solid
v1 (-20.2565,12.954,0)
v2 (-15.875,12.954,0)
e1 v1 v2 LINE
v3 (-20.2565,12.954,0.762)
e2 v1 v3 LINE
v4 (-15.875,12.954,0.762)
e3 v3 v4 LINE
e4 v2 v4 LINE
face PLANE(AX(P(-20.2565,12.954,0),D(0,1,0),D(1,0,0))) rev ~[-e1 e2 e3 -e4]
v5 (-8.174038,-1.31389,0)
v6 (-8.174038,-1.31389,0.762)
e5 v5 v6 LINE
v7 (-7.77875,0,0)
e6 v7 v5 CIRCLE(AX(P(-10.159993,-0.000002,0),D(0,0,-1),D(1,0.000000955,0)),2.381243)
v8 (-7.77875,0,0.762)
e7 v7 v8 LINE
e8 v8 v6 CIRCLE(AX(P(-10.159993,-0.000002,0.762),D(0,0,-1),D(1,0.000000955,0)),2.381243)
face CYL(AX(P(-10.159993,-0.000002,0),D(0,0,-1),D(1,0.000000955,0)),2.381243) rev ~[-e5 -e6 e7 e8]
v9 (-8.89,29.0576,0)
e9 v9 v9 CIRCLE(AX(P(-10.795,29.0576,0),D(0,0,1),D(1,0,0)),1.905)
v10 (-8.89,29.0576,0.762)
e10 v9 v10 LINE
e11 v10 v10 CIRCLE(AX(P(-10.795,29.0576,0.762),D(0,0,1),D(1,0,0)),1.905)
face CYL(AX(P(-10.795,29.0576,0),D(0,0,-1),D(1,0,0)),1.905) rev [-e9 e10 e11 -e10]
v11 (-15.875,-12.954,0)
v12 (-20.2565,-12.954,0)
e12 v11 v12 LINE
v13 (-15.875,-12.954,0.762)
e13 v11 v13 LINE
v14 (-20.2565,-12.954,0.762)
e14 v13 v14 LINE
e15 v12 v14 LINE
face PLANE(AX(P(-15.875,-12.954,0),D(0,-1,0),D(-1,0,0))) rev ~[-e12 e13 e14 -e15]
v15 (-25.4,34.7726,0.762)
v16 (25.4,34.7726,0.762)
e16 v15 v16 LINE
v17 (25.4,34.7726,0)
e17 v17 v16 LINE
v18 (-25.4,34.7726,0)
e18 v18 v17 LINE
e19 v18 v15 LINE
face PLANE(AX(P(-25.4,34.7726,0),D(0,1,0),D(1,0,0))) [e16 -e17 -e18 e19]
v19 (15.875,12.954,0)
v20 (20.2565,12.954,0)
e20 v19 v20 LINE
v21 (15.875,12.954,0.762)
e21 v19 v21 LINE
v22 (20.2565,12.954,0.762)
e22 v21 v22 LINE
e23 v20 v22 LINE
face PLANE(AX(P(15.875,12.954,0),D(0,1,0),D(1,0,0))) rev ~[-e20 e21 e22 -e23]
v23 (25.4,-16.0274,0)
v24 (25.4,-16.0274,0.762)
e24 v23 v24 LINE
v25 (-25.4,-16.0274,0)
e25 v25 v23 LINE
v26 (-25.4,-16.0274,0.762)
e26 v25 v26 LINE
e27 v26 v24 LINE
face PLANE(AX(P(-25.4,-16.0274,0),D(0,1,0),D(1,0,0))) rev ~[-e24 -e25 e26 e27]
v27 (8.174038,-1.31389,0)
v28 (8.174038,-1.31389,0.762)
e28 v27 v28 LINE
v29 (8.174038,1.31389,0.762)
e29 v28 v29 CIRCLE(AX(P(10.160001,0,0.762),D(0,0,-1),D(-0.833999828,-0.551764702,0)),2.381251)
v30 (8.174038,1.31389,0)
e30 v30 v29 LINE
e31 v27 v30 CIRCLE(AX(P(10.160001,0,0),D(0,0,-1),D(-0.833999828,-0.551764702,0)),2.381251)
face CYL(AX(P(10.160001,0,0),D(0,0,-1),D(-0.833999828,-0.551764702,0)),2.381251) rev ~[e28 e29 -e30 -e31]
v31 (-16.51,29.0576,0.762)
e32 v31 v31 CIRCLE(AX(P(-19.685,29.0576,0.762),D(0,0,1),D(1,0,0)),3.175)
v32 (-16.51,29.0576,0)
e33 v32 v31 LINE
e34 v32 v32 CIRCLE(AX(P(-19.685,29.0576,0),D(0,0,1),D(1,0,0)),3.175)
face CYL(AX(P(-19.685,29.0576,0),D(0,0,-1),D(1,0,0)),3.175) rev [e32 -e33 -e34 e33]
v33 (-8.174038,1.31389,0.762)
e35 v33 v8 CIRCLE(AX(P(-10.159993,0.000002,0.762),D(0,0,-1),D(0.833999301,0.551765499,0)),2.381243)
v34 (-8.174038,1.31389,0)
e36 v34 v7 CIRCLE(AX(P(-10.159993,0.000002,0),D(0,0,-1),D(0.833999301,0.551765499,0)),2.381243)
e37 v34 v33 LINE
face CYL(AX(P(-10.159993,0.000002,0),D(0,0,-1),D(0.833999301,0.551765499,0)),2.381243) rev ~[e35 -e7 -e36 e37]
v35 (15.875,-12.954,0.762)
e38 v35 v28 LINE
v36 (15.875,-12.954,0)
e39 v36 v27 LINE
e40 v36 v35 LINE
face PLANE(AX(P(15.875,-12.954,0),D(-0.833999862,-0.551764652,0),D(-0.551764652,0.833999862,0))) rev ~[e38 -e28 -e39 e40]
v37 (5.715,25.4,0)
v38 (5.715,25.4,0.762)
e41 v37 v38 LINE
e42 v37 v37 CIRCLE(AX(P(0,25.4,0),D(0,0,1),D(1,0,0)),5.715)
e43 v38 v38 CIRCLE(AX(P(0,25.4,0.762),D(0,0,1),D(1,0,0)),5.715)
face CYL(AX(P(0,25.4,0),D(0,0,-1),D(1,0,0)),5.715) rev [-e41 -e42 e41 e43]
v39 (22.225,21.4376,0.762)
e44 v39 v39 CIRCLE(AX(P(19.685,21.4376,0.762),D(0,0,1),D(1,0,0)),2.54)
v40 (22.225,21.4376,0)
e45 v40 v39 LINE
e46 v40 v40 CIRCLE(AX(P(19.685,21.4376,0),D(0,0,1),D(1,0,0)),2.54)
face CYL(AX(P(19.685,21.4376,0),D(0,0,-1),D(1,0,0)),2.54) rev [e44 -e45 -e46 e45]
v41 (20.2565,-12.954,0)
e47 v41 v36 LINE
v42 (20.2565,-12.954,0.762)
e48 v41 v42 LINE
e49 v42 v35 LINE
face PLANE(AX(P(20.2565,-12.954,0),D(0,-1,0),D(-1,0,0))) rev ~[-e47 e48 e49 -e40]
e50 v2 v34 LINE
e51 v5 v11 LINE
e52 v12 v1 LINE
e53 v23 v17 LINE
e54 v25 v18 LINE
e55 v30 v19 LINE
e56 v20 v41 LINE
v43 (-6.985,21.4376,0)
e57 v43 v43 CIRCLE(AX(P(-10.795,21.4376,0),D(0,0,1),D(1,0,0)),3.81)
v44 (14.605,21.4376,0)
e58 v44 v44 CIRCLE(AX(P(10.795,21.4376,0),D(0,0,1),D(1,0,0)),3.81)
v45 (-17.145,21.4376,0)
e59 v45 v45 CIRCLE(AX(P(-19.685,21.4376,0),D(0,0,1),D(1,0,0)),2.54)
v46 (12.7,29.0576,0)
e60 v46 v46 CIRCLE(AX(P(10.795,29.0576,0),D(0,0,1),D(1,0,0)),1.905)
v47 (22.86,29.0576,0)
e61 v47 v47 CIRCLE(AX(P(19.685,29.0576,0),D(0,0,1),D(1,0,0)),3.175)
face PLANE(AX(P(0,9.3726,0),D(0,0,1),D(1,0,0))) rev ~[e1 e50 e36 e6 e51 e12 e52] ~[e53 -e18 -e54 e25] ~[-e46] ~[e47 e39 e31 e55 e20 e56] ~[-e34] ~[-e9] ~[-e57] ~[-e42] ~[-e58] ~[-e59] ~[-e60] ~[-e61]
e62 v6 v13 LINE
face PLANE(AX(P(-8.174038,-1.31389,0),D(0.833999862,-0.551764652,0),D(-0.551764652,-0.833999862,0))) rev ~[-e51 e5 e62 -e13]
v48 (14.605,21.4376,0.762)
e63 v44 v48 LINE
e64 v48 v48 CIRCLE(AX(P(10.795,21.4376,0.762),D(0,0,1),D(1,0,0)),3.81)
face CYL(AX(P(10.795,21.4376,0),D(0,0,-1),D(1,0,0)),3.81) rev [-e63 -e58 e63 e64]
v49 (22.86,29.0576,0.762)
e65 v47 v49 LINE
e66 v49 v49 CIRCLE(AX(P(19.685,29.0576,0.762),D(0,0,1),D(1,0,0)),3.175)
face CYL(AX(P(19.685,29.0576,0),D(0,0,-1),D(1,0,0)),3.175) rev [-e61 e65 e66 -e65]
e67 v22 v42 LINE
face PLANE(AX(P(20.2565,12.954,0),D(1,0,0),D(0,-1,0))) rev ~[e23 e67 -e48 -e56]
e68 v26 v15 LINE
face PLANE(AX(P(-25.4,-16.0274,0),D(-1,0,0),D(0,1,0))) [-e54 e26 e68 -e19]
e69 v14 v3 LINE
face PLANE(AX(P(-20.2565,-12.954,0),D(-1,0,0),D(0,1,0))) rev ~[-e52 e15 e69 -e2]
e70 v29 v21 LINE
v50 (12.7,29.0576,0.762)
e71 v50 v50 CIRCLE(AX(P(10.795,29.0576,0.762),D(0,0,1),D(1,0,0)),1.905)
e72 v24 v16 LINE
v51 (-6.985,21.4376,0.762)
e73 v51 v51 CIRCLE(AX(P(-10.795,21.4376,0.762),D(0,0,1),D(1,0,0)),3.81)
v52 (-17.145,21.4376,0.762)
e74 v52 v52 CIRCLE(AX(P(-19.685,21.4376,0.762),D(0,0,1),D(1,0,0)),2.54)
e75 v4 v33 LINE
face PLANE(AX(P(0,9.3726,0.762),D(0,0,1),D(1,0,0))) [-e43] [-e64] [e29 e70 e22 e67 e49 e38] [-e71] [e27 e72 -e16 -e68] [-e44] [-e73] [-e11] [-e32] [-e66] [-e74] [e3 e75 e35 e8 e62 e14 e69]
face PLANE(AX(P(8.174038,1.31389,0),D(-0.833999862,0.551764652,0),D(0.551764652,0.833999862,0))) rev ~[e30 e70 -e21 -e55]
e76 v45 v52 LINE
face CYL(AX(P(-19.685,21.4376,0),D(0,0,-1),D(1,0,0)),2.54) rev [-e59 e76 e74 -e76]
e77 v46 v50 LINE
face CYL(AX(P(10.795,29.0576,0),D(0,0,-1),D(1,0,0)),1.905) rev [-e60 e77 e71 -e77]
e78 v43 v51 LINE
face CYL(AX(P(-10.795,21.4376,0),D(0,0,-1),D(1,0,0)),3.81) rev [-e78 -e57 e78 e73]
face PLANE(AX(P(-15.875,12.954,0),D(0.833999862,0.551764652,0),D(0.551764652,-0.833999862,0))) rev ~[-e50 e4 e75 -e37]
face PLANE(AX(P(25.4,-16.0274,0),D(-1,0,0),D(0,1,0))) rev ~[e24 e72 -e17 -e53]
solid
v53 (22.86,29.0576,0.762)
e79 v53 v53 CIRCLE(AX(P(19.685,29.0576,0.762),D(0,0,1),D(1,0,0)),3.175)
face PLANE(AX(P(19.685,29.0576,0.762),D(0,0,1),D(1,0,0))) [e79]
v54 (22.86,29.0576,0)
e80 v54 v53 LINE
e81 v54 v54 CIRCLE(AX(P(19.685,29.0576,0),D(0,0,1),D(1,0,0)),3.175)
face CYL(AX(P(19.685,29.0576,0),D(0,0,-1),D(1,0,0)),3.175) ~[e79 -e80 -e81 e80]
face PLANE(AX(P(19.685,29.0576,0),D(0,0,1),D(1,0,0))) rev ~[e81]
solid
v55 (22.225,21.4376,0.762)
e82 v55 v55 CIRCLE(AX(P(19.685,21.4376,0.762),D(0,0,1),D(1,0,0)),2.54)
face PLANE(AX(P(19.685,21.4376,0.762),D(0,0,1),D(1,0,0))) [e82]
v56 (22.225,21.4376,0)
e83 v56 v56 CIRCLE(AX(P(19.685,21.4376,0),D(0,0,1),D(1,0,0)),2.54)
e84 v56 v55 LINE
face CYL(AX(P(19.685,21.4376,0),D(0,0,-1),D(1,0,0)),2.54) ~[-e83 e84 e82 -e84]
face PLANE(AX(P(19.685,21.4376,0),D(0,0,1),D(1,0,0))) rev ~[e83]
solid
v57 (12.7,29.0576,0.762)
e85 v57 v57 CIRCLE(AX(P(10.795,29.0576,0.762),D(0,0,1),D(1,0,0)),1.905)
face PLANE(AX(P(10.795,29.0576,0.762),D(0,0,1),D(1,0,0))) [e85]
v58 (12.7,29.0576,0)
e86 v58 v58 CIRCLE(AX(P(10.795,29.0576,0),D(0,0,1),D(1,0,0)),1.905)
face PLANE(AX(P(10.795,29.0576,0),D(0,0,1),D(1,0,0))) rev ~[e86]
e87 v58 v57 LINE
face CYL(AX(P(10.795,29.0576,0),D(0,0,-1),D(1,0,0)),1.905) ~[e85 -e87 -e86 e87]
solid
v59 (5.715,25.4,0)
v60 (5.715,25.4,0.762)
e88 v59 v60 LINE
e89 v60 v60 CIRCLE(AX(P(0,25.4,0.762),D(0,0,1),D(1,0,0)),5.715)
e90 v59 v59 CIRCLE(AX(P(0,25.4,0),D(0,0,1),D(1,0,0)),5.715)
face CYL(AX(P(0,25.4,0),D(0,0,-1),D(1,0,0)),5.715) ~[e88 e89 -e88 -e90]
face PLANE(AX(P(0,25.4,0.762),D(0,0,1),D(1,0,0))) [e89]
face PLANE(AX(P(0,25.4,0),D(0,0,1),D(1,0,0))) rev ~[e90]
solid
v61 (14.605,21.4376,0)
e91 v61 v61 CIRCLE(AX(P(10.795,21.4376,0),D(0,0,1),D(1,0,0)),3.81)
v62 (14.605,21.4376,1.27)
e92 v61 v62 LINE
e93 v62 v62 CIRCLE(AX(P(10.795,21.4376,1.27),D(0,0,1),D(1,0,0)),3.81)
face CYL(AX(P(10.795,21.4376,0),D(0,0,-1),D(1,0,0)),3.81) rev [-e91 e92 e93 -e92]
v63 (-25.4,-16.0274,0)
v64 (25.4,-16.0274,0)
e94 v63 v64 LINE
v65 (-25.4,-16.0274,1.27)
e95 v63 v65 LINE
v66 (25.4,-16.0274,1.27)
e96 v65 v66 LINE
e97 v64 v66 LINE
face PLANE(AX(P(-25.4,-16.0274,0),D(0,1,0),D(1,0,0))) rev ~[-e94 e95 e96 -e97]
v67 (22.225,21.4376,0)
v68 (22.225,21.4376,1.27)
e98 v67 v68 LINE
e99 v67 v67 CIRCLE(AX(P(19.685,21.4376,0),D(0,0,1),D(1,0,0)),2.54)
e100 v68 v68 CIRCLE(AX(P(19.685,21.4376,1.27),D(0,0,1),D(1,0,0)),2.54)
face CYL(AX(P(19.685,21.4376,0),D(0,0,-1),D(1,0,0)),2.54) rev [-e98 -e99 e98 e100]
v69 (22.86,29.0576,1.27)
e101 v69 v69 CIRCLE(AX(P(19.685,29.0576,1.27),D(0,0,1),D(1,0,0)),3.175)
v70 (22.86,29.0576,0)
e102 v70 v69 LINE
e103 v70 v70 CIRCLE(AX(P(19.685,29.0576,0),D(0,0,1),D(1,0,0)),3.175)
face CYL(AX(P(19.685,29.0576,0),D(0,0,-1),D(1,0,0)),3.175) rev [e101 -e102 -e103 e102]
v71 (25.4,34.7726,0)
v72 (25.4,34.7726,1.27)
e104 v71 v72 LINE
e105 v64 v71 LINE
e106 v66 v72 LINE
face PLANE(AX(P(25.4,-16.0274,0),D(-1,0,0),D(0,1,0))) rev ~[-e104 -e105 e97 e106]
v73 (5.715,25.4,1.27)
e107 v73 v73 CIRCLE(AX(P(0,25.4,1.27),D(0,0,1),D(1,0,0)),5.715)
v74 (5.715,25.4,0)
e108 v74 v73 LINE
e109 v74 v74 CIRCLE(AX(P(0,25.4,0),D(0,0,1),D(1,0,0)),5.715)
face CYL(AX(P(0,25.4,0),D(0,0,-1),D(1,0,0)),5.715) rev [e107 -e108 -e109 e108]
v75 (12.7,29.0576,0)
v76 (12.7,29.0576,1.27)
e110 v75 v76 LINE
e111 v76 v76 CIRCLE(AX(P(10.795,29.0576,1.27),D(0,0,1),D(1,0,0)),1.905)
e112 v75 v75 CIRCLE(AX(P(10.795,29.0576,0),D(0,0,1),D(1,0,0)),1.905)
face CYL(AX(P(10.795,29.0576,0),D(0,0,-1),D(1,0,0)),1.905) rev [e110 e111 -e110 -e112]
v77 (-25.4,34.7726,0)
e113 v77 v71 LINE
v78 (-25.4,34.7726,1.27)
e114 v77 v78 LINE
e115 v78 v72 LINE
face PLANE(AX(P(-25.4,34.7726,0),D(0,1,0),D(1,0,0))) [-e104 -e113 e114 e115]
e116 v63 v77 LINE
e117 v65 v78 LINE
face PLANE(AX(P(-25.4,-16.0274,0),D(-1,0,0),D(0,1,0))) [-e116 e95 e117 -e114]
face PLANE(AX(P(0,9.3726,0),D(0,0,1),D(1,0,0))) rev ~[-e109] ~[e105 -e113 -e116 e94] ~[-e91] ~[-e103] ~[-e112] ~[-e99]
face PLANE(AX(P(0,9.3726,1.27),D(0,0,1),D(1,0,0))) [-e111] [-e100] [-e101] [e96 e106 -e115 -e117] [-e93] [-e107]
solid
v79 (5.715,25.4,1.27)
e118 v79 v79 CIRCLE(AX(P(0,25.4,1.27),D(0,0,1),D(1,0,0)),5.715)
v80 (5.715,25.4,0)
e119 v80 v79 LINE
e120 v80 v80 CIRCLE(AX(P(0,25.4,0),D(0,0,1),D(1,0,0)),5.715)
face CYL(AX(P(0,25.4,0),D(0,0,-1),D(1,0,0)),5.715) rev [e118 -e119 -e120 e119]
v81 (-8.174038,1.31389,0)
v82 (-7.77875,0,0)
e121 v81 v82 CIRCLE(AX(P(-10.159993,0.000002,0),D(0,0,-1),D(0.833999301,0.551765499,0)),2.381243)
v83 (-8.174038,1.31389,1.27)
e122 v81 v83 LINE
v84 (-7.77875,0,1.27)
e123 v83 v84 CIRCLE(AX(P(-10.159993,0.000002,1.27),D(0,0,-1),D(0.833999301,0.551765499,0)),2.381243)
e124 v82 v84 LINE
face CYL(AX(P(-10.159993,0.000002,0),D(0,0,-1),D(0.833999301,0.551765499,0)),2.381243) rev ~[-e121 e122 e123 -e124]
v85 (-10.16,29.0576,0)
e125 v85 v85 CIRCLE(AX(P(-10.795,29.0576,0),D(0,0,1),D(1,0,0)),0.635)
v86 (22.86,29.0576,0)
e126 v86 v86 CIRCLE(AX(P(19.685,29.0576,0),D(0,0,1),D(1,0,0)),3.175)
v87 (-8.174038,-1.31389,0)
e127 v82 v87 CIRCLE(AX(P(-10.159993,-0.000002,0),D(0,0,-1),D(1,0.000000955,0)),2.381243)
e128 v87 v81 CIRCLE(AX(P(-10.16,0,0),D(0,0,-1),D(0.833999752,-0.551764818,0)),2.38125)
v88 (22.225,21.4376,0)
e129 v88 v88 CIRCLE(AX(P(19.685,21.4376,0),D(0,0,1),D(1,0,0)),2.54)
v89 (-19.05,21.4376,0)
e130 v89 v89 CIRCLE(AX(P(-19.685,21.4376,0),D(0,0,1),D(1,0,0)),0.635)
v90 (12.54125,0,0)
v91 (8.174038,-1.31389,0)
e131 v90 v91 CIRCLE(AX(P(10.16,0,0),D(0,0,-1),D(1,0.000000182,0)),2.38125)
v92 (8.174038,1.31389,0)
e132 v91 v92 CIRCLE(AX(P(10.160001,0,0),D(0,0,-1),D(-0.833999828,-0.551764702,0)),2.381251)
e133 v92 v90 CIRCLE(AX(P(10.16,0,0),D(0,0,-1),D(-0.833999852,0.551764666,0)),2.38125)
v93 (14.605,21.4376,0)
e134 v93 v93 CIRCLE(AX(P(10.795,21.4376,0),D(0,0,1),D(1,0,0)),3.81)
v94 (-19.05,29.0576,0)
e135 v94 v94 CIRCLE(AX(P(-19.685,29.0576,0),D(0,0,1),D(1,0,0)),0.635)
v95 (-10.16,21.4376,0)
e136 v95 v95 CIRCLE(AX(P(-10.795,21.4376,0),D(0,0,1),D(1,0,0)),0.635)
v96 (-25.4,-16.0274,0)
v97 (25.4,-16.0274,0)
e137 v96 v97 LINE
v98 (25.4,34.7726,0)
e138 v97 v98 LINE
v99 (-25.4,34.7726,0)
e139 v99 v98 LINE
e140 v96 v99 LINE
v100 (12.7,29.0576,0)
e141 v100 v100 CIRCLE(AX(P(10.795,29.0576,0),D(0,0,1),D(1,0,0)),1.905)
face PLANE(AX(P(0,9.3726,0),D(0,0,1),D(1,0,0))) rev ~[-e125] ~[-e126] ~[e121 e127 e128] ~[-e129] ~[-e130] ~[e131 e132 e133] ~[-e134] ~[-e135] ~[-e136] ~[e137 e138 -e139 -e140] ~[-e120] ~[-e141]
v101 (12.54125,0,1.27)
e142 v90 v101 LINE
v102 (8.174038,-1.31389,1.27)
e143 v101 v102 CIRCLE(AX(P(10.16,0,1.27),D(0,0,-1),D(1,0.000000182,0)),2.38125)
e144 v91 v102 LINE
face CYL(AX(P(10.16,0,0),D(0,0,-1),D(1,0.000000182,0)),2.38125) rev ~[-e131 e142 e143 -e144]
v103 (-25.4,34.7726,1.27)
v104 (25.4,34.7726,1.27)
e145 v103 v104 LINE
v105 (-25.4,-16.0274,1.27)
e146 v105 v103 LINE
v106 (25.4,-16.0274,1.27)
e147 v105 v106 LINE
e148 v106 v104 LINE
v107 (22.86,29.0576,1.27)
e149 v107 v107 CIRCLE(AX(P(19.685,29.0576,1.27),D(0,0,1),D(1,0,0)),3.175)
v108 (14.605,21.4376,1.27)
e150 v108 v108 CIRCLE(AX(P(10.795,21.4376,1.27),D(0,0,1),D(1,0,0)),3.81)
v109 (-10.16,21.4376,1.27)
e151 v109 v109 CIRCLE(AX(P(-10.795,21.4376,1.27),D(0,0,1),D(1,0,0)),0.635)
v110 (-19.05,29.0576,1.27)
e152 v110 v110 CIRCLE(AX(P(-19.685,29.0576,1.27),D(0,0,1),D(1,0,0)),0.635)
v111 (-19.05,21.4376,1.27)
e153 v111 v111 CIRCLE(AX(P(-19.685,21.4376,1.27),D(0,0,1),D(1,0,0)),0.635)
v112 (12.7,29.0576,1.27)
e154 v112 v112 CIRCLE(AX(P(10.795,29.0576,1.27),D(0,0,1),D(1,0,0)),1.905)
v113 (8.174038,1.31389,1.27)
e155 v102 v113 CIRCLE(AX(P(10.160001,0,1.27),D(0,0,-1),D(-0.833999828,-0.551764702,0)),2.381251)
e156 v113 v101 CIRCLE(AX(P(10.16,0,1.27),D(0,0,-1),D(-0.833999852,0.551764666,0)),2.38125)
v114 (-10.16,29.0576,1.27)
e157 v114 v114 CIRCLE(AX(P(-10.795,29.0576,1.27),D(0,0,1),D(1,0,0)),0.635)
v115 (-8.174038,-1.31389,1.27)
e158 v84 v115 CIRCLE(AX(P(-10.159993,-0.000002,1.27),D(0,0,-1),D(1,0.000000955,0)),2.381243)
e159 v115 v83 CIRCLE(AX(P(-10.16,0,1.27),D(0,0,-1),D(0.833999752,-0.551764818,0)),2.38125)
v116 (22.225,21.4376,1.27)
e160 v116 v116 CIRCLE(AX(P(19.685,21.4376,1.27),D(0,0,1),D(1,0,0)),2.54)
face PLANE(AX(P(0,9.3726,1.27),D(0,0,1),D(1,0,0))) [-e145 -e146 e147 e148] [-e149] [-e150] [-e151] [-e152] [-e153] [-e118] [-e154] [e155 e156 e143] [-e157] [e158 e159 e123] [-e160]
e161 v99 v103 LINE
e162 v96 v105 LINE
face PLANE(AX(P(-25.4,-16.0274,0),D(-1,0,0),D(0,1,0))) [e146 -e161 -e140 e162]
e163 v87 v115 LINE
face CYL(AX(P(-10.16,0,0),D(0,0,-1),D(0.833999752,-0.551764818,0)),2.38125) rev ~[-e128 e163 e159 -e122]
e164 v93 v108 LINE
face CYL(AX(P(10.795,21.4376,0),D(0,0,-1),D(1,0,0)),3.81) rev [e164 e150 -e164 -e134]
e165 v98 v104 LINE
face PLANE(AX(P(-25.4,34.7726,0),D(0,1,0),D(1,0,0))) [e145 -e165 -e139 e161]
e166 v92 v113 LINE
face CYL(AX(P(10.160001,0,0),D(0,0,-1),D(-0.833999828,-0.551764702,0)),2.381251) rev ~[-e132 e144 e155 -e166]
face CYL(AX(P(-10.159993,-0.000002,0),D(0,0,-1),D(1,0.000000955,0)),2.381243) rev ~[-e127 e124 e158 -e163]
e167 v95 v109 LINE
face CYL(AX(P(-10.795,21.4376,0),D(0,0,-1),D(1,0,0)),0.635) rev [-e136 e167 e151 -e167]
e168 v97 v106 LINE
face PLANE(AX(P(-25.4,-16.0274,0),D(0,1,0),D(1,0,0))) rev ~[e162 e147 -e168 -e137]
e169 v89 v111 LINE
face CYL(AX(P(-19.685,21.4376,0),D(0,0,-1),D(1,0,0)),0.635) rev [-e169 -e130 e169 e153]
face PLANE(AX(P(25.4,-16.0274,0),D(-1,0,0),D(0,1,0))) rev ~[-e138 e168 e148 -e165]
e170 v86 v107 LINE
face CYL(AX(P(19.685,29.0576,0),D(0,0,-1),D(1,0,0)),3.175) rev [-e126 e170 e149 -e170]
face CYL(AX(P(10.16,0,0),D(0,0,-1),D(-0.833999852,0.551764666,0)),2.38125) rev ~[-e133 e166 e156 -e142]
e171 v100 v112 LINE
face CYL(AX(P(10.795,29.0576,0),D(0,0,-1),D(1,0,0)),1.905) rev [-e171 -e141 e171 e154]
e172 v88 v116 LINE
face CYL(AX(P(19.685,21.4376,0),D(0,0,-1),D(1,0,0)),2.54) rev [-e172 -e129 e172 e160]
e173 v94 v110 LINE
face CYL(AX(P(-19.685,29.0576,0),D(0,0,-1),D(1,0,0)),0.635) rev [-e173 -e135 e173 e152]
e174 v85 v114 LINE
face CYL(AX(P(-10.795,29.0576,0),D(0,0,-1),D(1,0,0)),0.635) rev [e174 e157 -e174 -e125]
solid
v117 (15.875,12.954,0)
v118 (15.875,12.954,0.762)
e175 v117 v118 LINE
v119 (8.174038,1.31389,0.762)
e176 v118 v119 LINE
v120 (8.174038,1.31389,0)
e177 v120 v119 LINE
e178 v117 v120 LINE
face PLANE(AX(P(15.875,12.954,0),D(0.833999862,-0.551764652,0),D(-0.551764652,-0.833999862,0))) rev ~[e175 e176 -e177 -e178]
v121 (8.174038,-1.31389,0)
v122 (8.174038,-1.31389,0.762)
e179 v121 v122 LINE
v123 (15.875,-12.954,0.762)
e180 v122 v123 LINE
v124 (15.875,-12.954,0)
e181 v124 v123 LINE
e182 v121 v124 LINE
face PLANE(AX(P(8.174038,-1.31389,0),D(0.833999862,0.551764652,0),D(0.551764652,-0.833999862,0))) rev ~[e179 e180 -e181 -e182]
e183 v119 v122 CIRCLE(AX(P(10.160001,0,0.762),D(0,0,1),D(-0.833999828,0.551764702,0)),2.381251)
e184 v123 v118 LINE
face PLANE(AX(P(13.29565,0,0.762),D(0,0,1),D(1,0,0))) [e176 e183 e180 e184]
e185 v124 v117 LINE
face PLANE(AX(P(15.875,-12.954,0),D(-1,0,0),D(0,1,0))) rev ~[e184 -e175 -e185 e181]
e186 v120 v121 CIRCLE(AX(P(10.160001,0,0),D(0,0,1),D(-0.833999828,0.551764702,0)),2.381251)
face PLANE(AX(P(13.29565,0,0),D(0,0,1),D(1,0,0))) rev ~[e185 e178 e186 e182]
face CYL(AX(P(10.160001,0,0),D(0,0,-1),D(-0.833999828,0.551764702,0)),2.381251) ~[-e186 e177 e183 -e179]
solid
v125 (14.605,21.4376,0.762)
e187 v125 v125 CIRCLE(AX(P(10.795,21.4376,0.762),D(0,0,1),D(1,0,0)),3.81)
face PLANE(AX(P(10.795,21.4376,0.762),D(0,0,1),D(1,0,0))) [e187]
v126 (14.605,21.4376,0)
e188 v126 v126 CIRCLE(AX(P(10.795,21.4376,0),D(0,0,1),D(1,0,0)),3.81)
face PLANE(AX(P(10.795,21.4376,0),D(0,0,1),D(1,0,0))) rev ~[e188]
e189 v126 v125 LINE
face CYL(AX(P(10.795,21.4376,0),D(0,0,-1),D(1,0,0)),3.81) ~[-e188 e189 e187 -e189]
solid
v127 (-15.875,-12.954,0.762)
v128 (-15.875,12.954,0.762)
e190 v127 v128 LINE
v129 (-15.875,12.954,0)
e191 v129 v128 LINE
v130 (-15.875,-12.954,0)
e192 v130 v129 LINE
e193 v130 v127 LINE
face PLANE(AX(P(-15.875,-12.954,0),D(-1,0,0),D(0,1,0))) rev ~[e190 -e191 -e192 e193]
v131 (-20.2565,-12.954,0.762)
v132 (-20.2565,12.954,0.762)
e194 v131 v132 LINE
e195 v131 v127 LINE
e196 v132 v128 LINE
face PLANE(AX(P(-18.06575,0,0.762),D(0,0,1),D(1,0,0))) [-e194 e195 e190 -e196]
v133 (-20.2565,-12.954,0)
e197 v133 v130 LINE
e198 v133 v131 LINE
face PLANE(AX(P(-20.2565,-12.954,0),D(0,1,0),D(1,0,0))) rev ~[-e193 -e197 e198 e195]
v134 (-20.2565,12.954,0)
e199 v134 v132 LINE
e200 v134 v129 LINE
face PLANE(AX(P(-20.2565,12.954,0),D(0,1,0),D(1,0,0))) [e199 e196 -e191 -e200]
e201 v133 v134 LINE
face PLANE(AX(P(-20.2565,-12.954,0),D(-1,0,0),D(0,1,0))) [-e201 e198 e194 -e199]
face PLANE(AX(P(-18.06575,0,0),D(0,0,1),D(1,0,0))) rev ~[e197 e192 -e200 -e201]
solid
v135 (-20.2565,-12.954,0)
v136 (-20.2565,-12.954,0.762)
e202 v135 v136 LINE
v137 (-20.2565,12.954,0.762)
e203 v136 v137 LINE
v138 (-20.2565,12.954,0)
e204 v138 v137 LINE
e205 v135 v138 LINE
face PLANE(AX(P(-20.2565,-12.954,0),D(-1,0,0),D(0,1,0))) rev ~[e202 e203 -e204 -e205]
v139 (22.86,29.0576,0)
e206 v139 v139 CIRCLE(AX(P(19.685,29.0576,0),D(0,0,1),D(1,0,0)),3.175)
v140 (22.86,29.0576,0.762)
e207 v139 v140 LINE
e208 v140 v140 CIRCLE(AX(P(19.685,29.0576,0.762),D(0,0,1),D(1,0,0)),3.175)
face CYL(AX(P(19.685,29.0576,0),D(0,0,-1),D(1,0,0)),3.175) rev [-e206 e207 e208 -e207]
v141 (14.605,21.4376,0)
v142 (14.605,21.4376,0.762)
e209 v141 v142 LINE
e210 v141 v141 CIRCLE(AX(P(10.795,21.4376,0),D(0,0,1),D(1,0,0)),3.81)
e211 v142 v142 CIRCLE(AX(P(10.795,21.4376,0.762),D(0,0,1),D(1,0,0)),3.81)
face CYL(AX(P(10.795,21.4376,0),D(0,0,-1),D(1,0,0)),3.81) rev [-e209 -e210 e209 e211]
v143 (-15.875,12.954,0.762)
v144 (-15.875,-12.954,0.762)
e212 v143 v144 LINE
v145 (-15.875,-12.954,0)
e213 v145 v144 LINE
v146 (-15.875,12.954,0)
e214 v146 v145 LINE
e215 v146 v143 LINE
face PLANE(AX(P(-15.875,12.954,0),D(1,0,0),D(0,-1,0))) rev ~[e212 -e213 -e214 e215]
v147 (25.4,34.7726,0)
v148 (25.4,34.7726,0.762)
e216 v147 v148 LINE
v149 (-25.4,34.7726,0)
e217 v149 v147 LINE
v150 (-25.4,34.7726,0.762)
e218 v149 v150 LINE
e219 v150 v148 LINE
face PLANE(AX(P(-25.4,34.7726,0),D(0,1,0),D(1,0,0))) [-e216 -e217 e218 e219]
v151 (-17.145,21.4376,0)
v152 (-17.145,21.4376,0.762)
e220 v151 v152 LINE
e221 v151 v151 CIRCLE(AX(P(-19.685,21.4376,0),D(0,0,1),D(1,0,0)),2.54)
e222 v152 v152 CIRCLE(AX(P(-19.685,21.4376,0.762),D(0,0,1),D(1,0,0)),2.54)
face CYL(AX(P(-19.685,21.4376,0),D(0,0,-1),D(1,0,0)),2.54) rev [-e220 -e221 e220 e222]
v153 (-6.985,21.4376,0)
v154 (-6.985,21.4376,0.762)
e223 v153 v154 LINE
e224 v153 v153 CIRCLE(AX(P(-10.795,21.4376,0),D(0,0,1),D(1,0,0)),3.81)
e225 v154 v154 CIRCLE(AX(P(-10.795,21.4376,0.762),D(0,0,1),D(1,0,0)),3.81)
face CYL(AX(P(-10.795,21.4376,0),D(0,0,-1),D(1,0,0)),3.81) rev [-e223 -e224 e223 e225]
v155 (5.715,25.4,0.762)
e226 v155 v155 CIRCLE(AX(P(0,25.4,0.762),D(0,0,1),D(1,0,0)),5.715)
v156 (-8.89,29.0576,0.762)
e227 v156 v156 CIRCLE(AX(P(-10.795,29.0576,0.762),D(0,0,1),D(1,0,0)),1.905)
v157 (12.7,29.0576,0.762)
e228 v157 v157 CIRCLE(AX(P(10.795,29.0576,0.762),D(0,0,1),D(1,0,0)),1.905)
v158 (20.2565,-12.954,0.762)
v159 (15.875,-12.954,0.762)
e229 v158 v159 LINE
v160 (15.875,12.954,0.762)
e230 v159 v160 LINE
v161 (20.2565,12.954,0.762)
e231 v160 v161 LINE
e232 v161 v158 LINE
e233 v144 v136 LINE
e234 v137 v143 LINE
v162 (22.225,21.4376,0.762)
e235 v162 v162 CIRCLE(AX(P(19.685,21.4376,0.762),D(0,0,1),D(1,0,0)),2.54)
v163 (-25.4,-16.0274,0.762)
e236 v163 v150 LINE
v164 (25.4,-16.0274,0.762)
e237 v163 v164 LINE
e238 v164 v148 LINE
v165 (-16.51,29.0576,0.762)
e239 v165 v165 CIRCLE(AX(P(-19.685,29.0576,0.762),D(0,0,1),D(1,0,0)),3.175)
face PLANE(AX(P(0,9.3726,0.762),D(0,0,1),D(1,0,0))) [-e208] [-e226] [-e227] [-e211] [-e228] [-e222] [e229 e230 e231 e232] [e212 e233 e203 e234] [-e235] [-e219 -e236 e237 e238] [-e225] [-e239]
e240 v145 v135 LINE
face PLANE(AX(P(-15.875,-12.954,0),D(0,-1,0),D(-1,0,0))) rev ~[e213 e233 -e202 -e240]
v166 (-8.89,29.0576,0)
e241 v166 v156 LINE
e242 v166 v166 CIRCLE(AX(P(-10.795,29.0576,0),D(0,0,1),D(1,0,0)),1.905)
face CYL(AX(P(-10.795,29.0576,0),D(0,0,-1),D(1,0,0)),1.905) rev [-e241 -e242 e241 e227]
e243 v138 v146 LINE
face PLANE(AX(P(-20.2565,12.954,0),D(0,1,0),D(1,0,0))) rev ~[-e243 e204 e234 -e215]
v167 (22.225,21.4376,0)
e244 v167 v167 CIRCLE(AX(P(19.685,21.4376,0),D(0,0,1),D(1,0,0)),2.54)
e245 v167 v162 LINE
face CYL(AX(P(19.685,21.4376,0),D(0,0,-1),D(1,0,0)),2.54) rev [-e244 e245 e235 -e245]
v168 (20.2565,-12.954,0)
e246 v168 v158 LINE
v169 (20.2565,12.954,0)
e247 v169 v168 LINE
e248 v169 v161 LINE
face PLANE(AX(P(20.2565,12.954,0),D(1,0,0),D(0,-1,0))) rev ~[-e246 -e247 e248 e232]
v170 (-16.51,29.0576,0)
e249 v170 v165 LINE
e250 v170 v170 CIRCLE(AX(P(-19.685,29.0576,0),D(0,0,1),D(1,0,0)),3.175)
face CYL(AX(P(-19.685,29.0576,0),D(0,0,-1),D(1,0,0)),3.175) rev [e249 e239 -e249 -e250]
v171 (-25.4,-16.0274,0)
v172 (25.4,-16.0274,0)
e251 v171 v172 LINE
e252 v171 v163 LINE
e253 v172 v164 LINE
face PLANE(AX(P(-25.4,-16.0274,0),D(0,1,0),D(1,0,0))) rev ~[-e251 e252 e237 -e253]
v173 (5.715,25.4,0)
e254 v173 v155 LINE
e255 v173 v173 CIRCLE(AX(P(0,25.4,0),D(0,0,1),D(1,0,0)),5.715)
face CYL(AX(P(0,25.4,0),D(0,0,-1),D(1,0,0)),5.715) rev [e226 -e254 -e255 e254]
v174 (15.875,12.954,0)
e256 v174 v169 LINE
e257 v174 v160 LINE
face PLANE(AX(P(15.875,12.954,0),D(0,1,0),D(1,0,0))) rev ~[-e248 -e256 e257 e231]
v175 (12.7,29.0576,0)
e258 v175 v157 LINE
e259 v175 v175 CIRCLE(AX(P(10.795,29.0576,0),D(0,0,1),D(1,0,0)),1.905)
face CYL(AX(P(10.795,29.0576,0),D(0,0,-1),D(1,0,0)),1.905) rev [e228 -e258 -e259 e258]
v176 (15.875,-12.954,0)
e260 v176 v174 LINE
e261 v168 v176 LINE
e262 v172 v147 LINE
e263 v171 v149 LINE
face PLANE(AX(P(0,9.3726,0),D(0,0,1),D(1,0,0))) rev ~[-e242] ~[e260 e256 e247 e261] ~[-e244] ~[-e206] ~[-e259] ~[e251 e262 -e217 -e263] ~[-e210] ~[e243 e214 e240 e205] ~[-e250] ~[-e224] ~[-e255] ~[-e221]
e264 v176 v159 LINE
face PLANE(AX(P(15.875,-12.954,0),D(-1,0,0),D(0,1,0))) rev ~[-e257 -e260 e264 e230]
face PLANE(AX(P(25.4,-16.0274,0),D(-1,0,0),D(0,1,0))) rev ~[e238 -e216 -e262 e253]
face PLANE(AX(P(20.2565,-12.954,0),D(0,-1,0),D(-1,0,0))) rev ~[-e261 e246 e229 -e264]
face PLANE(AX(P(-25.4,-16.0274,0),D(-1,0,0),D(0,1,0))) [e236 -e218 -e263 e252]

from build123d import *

# Parameters (mm, degrees)
F0_W     = 50.8
F0_H     = 50.8
F0_R     = 2.54
F0_R_2   = 3.81
F0_R_3   = 3.175
F0_R_4   = 5.715
F0_R_5   = 1.905
F1_DEPTH = 0.762
F0_W_2   = 4.3815
F0_H_2   = 25.908
F0_R_6   = 0.635
F2_DEPTH = 1.27
F3_DEPTH = 0.762
F4_DEPTH = 1.27
F5_DEPTH = 0.762


with BuildPart() as f1:
    # F0 (on Top) → F1 (new body)
    with BuildSketch(Plane.XY):
        with Locations((0, 9.3726)):
            Rectangle(F0_W, F0_H)
        with BuildLine():
            Line((-20.2565, -12.954), (-20.2565, 12.954))
            Line((-20.2565, 12.954), (-15.875, 12.954))
            Line((-15.875, 12.954), (-8.174038, 1.31389))
            ThreePointArc((-8.174038, 1.31389), (-7.879712, 0.686032), (-7.77875, 0))
            ThreePointArc((-7.77875, 0), (-7.879712, -0.686032), (-8.174038, -1.31389))
            Line((-8.174038, -1.31389), (-15.875, -12.954))
            Line((-15.875, -12.954), (-20.2565, -12.954))
        make_face(mode=Mode.SUBTRACT)
        with BuildLine():
            Line((8.174038, 1.31389), (15.875, 12.954))
            Line((15.875, 12.954), (20.2565, 12.954))
            Line((20.2565, 12.954), (20.2565, -12.954))
            Line((20.2565, -12.954), (15.875, -12.954))
            Line((15.875, -12.954), (8.174038, -1.31389))
            ThreePointArc((8.174038, -1.31389), (7.77875, 0), (8.174038, 1.31389))
        make_face(mode=Mode.SUBTRACT)
        with Locations((-19.685, 21.4376)):
            Circle(F0_R, mode=Mode.SUBTRACT)
        with Locations((-10.795, 21.4376)):
            Circle(F0_R_2, mode=Mode.SUBTRACT)
        with Locations((-19.685, 29.0576)):
            Circle(F0_R_3, mode=Mode.SUBTRACT)
        with Locations((0, 25.4)):
            Circle(F0_R_4, mode=Mode.SUBTRACT)
        with Locations((-10.795, 29.0576)):
            Circle(F0_R_5, mode=Mode.SUBTRACT)
        with Locations((10.795, 21.4376)):
            Circle(F0_R_2, mode=Mode.SUBTRACT)
        with Locations((19.685, 21.4376)):
            Circle(F0_R, mode=Mode.SUBTRACT)
        with Locations((10.795, 29.0576)):
            Circle(F0_R_5, mode=Mode.SUBTRACT)
        with Locations((19.685, 29.0576)):
            Circle(F0_R_3, mode=Mode.SUBTRACT)
    extrude(amount=F1_DEPTH)


with BuildPart() as f2:
    # F0 (on Top) → F2 (new body)
    with BuildSketch(Plane.XY):
        with Locations((0, 9.3726)):
            Rectangle(F0_W, F0_H)
        with BuildLine():
            Line((-20.2565, -12.954), (-20.2565, 12.954))
            Line((-20.2565, 12.954), (-15.875, 12.954))
            Line((-15.875, 12.954), (-8.174038, 1.31389))
            ThreePointArc((-8.174038, 1.31389), (-7.879712, 0.686032), (-7.77875, 0))
            ThreePointArc((-7.77875, 0), (-7.879712, -0.686032), (-8.174038, -1.31389))
            Line((-8.174038, -1.31389), (-15.875, -12.954))
            Line((-15.875, -12.954), (-20.2565, -12.954))
        make_face(mode=Mode.SUBTRACT)
        with BuildLine():
            Line((8.174038, 1.31389), (15.875, 12.954))
            Line((15.875, 12.954), (20.2565, 12.954))
            Line((20.2565, 12.954), (20.2565, -12.954))
            Line((20.2565, -12.954), (15.875, -12.954))
            Line((15.875, -12.954), (8.174038, -1.31389))
            ThreePointArc((8.174038, -1.31389), (7.77875, 0), (8.174038, 1.31389))
        make_face(mode=Mode.SUBTRACT)
        with Locations((-19.685, 21.4376)):
            Circle(F0_R, mode=Mode.SUBTRACT)
        with Locations((-10.795, 21.4376)):
            Circle(F0_R_2, mode=Mode.SUBTRACT)
        with Locations((-19.685, 29.0576)):
            Circle(F0_R_3, mode=Mode.SUBTRACT)
        with Locations((0, 25.4)):
            Circle(F0_R_4, mode=Mode.SUBTRACT)
        with Locations((-10.795, 29.0576)):
            Circle(F0_R_5, mode=Mode.SUBTRACT)
        with Locations((10.795, 21.4376)):
            Circle(F0_R_2, mode=Mode.SUBTRACT)
        with Locations((19.685, 21.4376)):
            Circle(F0_R, mode=Mode.SUBTRACT)
        with Locations((10.795, 29.0576)):
            Circle(F0_R_5, mode=Mode.SUBTRACT)
        with Locations((19.685, 29.0576)):
            Circle(F0_R_3, mode=Mode.SUBTRACT)
        with Locations((-18.06575, 0)):
            Rectangle(F0_W_2, F0_H_2)
        with BuildLine():
            Line((-8.174038, 1.31389), (-15.875, 12.954))
            Line((-15.875, 12.954), (-15.875, -12.954))
            Line((-15.875, -12.954), (-8.174038, -1.31389))
            ThreePointArc((-8.174038, -1.31389), (-12.54125, 0), (-8.174038, 1.31389))
        make_face()
        with BuildLine():
            ThreePointArc((-7.77875, 0), (-7.879712, 0.686032), (-8.174038, 1.31389))
            ThreePointArc((-8.174038, 1.31389), (-12.54125, 0), (-8.174038, -1.31389))
            ThreePointArc((-8.174038, -1.31389), (-7.879712, -0.686032), (-7.77875, 0))
        make_face()
        with Locations((18.06575, 0)):
            Rectangle(F0_W_2, F0_H_2)
        with BuildLine():
            Line((15.875, -12.954), (15.875, 12.954))
            Line((15.875, 12.954), (8.174038, 1.31389))
            ThreePointArc((8.174038, 1.31389), (10.846032, 2.280288), (12.54125, 0))
            ThreePointArc((12.54125, 0), (10.846032, -2.280288), (8.174038, -1.31389))
            Line((8.174038, -1.31389), (15.875, -12.954))
        make_face()
        with BuildLine():
            ThreePointArc((12.54125, 0), (10.846032, 2.280288), (8.174038, 1.31389))
            ThreePointArc((8.174038, 1.31389), (7.77875, 0), (8.174038, -1.31389))
            ThreePointArc((8.174038, -1.31389), (10.846032, -2.280288), (12.54125, 0))
        make_face()
        with Locations((-19.685, 21.4376)):
            Circle(F0_R)
        with Locations((-19.685, 21.4376)):
            Circle(F0_R_6, mode=Mode.SUBTRACT)
        with Locations((-19.685, 29.0576)):
            Circle(F0_R_3)
        with Locations((-19.685, 29.0576)):
            Circle(F0_R_6, mode=Mode.SUBTRACT)
        with Locations((-10.795, 29.0576)):
            Circle(F0_R_5)
        with Locations((-10.795, 29.0576)):
            Circle(F0_R_6, mode=Mode.SUBTRACT)
        with Locations((-10.795, 21.4376)):
            Circle(F0_R_2)
        with Locations((-10.795, 21.4376)):
            Circle(F0_R_6, mode=Mode.SUBTRACT)
        with Locations((-19.685, 21.4376)):
            Circle(F0_R_6)
        with Locations((-10.795, 21.4376)):
            Circle(F0_R_6)
        with Locations((-10.795, 29.0576)):
            Circle(F0_R_6)
        with Locations((-19.685, 29.0576)):
            Circle(F0_R_6)
    extrude(amount=F2_DEPTH)


with BuildPart() as f3:
    # F0 (on Top) → F3 (new body)
    with BuildSketch(Plane.XY):
        with Locations((0, 9.3726)):
            Rectangle(F0_W, F0_H)
        with BuildLine():
            Line((-20.2565, -12.954), (-20.2565, 12.954))
            Line((-20.2565, 12.954), (-15.875, 12.954))
            Line((-15.875, 12.954), (-8.174038, 1.31389))
            ThreePointArc((-8.174038, 1.31389), (-7.879712, 0.686032), (-7.77875, 0))
            ThreePointArc((-7.77875, 0), (-7.879712, -0.686032), (-8.174038, -1.31389))
            Line((-8.174038, -1.31389), (-15.875, -12.954))
            Line((-15.875, -12.954), (-20.2565, -12.954))
        make_face(mode=Mode.SUBTRACT)
        with BuildLine():
            Line((8.174038, 1.31389), (15.875, 12.954))
            Line((15.875, 12.954), (20.2565, 12.954))
            Line((20.2565, 12.954), (20.2565, -12.954))
            Line((20.2565, -12.954), (15.875, -12.954))
            Line((15.875, -12.954), (8.174038, -1.31389))
            ThreePointArc((8.174038, -1.31389), (7.77875, 0), (8.174038, 1.31389))
        make_face(mode=Mode.SUBTRACT)
        with Locations((-19.685, 21.4376)):
            Circle(F0_R, mode=Mode.SUBTRACT)
        with Locations((-10.795, 21.4376)):
            Circle(F0_R_2, mode=Mode.SUBTRACT)
        with Locations((-19.685, 29.0576)):
            Circle(F0_R_3, mode=Mode.SUBTRACT)
        with Locations((0, 25.4)):
            Circle(F0_R_4, mode=Mode.SUBTRACT)
        with Locations((-10.795, 29.0576)):
            Circle(F0_R_5, mode=Mode.SUBTRACT)
        with Locations((10.795, 21.4376)):
            Circle(F0_R_2, mode=Mode.SUBTRACT)
        with Locations((19.685, 21.4376)):
            Circle(F0_R, mode=Mode.SUBTRACT)
        with Locations((10.795, 29.0576)):
            Circle(F0_R_5, mode=Mode.SUBTRACT)
        with Locations((19.685, 29.0576)):
            Circle(F0_R_3, mode=Mode.SUBTRACT)
        with BuildLine():
            ThreePointArc((-7.77875, 0), (-7.879712, 0.686032), (-8.174038, 1.31389))
            ThreePointArc((-8.174038, 1.31389), (-12.54125, 0), (-8.174038, -1.31389))
            ThreePointArc((-8.174038, -1.31389), (-7.879712, -0.686032), (-7.77875, 0))
        make_face()
        with BuildLine():
            Line((-8.174038, 1.31389), (-15.875, 12.954))
            Line((-15.875, 12.954), (-15.875, -12.954))
            Line((-15.875, -12.954), (-8.174038, -1.31389))
            ThreePointArc((-8.174038, -1.31389), (-12.54125, 0), (-8.174038, 1.31389))
        make_face()
        with BuildLine():
            ThreePointArc((12.54125, 0), (10.846032, 2.280288), (8.174038, 1.31389))
            ThreePointArc((8.174038, 1.31389), (7.77875, 0), (8.174038, -1.31389))
            ThreePointArc((8.174038, -1.31389), (10.846032, -2.280288), (12.54125, 0))
        make_face()
        with BuildLine():
            Line((15.875, -12.954), (15.875, 12.954))
            Line((15.875, 12.954), (8.174038, 1.31389))
            ThreePointArc((8.174038, 1.31389), (10.846032, 2.280288), (12.54125, 0))
            ThreePointArc((12.54125, 0), (10.846032, -2.280288), (8.174038, -1.31389))
            Line((8.174038, -1.31389), (15.875, -12.954))
        make_face()
    extrude(amount=F3_DEPTH)


with BuildPart() as f4:
    # F0 (on Top) → F4 (new body)
    with BuildSketch(Plane.XY):
        with Locations((0, 9.3726)):
            Rectangle(F0_W, F0_H)
        with BuildLine():
            Line((-20.2565, -12.954), (-20.2565, 12.954))
            Line((-20.2565, 12.954), (-15.875, 12.954))
            Line((-15.875, 12.954), (-8.174038, 1.31389))
            ThreePointArc((-8.174038, 1.31389), (-7.879712, 0.686032), (-7.77875, 0))
            ThreePointArc((-7.77875, 0), (-7.879712, -0.686032), (-8.174038, -1.31389))
            Line((-8.174038, -1.31389), (-15.875, -12.954))
            Line((-15.875, -12.954), (-20.2565, -12.954))
        make_face(mode=Mode.SUBTRACT)
        with BuildLine():
            Line((8.174038, 1.31389), (15.875, 12.954))
            Line((15.875, 12.954), (20.2565, 12.954))
            Line((20.2565, 12.954), (20.2565, -12.954))
            Line((20.2565, -12.954), (15.875, -12.954))
            Line((15.875, -12.954), (8.174038, -1.31389))
            ThreePointArc((8.174038, -1.31389), (7.77875, 0), (8.174038, 1.31389))
        make_face(mode=Mode.SUBTRACT)
        with Locations((-19.685, 21.4376)):
            Circle(F0_R, mode=Mode.SUBTRACT)
        with Locations((-10.795, 21.4376)):
            Circle(F0_R_2, mode=Mode.SUBTRACT)
        with Locations((-19.685, 29.0576)):
            Circle(F0_R_3, mode=Mode.SUBTRACT)
        with Locations((0, 25.4)):
            Circle(F0_R_4, mode=Mode.SUBTRACT)
        with Locations((-10.795, 29.0576)):
            Circle(F0_R_5, mode=Mode.SUBTRACT)
        with Locations((10.795, 21.4376)):
            Circle(F0_R_2, mode=Mode.SUBTRACT)
        with Locations((19.685, 21.4376)):
            Circle(F0_R, mode=Mode.SUBTRACT)
        with Locations((10.795, 29.0576)):
            Circle(F0_R_5, mode=Mode.SUBTRACT)
        with Locations((19.685, 29.0576)):
            Circle(F0_R_3, mode=Mode.SUBTRACT)
        with Locations((-18.06575, 0)):
            Rectangle(F0_W_2, F0_H_2)
        with Locations((18.06575, 0)):
            Rectangle(F0_W_2, F0_H_2)
        with BuildLine():
            Line((-8.174038, 1.31389), (-15.875, 12.954))
            Line((-15.875, 12.954), (-15.875, -12.954))
            Line((-15.875, -12.954), (-8.174038, -1.31389))
            ThreePointArc((-8.174038, -1.31389), (-12.54125, 0), (-8.174038, 1.31389))
        make_face()
        with BuildLine():
            Line((15.875, -12.954), (15.875, 12.954))
            Line((15.875, 12.954), (8.174038, 1.31389))
            ThreePointArc((8.174038, 1.31389), (10.846032, 2.280288), (12.54125, 0))
            ThreePointArc((12.54125, 0), (10.846032, -2.280288), (8.174038, -1.31389))
            Line((8.174038, -1.31389), (15.875, -12.954))
        make_face()
        with Locations((-19.685, 21.4376)):
            Circle(F0_R)
        with Locations((-19.685, 21.4376)):
            Circle(F0_R_6, mode=Mode.SUBTRACT)
        with Locations((-19.685, 29.0576)):
            Circle(F0_R_3)
        with Locations((-19.685, 29.0576)):
            Circle(F0_R_6, mode=Mode.SUBTRACT)
        with Locations((-10.795, 21.4376)):
            Circle(F0_R_2)
        with Locations((-10.795, 21.4376)):
            Circle(F0_R_6, mode=Mode.SUBTRACT)
        with Locations((-10.795, 29.0576)):
            Circle(F0_R_5)
        with Locations((-10.795, 29.0576)):
            Circle(F0_R_6, mode=Mode.SUBTRACT)
    extrude(amount=F4_DEPTH)


with BuildPart() as f5:
    # F0 (on Top) → F5 (new body)
    with BuildSketch(Plane.XY):
        with Locations((-18.06575, 0)):
            Rectangle(F0_W_2, F0_H_2)
        with BuildLine():
            Line((15.875, -12.954), (15.875, 12.954))
            Line((15.875, 12.954), (8.174038, 1.31389))
            ThreePointArc((8.174038, 1.31389), (10.846032, 2.280288), (12.54125, 0))
            ThreePointArc((12.54125, 0), (10.846032, -2.280288), (8.174038, -1.31389))
            Line((8.174038, -1.31389), (15.875, -12.954))
        make_face()
        with BuildLine():
            ThreePointArc((12.54125, 0), (10.846032, 2.280288), (8.174038, 1.31389))
            ThreePointArc((8.174038, 1.31389), (7.77875, 0), (8.174038, -1.31389))
            ThreePointArc((8.174038, -1.31389), (10.846032, -2.280288), (12.54125, 0))
        make_face()
        with Locations((0, 25.4)):
            Circle(F0_R_4)
        with Locations((10.795, 21.4376)):
            Circle(F0_R_2)
        with Locations((10.795, 29.0576)):
            Circle(F0_R_5)
        with Locations((19.685, 29.0576)):
            Circle(F0_R_3)
        with Locations((19.685, 21.4376)):
            Circle(F0_R)
    extrude(amount=F5_DEPTH)


solid = Compound([f1.part, f2.part, f3.part, f4.part, f5.part])
